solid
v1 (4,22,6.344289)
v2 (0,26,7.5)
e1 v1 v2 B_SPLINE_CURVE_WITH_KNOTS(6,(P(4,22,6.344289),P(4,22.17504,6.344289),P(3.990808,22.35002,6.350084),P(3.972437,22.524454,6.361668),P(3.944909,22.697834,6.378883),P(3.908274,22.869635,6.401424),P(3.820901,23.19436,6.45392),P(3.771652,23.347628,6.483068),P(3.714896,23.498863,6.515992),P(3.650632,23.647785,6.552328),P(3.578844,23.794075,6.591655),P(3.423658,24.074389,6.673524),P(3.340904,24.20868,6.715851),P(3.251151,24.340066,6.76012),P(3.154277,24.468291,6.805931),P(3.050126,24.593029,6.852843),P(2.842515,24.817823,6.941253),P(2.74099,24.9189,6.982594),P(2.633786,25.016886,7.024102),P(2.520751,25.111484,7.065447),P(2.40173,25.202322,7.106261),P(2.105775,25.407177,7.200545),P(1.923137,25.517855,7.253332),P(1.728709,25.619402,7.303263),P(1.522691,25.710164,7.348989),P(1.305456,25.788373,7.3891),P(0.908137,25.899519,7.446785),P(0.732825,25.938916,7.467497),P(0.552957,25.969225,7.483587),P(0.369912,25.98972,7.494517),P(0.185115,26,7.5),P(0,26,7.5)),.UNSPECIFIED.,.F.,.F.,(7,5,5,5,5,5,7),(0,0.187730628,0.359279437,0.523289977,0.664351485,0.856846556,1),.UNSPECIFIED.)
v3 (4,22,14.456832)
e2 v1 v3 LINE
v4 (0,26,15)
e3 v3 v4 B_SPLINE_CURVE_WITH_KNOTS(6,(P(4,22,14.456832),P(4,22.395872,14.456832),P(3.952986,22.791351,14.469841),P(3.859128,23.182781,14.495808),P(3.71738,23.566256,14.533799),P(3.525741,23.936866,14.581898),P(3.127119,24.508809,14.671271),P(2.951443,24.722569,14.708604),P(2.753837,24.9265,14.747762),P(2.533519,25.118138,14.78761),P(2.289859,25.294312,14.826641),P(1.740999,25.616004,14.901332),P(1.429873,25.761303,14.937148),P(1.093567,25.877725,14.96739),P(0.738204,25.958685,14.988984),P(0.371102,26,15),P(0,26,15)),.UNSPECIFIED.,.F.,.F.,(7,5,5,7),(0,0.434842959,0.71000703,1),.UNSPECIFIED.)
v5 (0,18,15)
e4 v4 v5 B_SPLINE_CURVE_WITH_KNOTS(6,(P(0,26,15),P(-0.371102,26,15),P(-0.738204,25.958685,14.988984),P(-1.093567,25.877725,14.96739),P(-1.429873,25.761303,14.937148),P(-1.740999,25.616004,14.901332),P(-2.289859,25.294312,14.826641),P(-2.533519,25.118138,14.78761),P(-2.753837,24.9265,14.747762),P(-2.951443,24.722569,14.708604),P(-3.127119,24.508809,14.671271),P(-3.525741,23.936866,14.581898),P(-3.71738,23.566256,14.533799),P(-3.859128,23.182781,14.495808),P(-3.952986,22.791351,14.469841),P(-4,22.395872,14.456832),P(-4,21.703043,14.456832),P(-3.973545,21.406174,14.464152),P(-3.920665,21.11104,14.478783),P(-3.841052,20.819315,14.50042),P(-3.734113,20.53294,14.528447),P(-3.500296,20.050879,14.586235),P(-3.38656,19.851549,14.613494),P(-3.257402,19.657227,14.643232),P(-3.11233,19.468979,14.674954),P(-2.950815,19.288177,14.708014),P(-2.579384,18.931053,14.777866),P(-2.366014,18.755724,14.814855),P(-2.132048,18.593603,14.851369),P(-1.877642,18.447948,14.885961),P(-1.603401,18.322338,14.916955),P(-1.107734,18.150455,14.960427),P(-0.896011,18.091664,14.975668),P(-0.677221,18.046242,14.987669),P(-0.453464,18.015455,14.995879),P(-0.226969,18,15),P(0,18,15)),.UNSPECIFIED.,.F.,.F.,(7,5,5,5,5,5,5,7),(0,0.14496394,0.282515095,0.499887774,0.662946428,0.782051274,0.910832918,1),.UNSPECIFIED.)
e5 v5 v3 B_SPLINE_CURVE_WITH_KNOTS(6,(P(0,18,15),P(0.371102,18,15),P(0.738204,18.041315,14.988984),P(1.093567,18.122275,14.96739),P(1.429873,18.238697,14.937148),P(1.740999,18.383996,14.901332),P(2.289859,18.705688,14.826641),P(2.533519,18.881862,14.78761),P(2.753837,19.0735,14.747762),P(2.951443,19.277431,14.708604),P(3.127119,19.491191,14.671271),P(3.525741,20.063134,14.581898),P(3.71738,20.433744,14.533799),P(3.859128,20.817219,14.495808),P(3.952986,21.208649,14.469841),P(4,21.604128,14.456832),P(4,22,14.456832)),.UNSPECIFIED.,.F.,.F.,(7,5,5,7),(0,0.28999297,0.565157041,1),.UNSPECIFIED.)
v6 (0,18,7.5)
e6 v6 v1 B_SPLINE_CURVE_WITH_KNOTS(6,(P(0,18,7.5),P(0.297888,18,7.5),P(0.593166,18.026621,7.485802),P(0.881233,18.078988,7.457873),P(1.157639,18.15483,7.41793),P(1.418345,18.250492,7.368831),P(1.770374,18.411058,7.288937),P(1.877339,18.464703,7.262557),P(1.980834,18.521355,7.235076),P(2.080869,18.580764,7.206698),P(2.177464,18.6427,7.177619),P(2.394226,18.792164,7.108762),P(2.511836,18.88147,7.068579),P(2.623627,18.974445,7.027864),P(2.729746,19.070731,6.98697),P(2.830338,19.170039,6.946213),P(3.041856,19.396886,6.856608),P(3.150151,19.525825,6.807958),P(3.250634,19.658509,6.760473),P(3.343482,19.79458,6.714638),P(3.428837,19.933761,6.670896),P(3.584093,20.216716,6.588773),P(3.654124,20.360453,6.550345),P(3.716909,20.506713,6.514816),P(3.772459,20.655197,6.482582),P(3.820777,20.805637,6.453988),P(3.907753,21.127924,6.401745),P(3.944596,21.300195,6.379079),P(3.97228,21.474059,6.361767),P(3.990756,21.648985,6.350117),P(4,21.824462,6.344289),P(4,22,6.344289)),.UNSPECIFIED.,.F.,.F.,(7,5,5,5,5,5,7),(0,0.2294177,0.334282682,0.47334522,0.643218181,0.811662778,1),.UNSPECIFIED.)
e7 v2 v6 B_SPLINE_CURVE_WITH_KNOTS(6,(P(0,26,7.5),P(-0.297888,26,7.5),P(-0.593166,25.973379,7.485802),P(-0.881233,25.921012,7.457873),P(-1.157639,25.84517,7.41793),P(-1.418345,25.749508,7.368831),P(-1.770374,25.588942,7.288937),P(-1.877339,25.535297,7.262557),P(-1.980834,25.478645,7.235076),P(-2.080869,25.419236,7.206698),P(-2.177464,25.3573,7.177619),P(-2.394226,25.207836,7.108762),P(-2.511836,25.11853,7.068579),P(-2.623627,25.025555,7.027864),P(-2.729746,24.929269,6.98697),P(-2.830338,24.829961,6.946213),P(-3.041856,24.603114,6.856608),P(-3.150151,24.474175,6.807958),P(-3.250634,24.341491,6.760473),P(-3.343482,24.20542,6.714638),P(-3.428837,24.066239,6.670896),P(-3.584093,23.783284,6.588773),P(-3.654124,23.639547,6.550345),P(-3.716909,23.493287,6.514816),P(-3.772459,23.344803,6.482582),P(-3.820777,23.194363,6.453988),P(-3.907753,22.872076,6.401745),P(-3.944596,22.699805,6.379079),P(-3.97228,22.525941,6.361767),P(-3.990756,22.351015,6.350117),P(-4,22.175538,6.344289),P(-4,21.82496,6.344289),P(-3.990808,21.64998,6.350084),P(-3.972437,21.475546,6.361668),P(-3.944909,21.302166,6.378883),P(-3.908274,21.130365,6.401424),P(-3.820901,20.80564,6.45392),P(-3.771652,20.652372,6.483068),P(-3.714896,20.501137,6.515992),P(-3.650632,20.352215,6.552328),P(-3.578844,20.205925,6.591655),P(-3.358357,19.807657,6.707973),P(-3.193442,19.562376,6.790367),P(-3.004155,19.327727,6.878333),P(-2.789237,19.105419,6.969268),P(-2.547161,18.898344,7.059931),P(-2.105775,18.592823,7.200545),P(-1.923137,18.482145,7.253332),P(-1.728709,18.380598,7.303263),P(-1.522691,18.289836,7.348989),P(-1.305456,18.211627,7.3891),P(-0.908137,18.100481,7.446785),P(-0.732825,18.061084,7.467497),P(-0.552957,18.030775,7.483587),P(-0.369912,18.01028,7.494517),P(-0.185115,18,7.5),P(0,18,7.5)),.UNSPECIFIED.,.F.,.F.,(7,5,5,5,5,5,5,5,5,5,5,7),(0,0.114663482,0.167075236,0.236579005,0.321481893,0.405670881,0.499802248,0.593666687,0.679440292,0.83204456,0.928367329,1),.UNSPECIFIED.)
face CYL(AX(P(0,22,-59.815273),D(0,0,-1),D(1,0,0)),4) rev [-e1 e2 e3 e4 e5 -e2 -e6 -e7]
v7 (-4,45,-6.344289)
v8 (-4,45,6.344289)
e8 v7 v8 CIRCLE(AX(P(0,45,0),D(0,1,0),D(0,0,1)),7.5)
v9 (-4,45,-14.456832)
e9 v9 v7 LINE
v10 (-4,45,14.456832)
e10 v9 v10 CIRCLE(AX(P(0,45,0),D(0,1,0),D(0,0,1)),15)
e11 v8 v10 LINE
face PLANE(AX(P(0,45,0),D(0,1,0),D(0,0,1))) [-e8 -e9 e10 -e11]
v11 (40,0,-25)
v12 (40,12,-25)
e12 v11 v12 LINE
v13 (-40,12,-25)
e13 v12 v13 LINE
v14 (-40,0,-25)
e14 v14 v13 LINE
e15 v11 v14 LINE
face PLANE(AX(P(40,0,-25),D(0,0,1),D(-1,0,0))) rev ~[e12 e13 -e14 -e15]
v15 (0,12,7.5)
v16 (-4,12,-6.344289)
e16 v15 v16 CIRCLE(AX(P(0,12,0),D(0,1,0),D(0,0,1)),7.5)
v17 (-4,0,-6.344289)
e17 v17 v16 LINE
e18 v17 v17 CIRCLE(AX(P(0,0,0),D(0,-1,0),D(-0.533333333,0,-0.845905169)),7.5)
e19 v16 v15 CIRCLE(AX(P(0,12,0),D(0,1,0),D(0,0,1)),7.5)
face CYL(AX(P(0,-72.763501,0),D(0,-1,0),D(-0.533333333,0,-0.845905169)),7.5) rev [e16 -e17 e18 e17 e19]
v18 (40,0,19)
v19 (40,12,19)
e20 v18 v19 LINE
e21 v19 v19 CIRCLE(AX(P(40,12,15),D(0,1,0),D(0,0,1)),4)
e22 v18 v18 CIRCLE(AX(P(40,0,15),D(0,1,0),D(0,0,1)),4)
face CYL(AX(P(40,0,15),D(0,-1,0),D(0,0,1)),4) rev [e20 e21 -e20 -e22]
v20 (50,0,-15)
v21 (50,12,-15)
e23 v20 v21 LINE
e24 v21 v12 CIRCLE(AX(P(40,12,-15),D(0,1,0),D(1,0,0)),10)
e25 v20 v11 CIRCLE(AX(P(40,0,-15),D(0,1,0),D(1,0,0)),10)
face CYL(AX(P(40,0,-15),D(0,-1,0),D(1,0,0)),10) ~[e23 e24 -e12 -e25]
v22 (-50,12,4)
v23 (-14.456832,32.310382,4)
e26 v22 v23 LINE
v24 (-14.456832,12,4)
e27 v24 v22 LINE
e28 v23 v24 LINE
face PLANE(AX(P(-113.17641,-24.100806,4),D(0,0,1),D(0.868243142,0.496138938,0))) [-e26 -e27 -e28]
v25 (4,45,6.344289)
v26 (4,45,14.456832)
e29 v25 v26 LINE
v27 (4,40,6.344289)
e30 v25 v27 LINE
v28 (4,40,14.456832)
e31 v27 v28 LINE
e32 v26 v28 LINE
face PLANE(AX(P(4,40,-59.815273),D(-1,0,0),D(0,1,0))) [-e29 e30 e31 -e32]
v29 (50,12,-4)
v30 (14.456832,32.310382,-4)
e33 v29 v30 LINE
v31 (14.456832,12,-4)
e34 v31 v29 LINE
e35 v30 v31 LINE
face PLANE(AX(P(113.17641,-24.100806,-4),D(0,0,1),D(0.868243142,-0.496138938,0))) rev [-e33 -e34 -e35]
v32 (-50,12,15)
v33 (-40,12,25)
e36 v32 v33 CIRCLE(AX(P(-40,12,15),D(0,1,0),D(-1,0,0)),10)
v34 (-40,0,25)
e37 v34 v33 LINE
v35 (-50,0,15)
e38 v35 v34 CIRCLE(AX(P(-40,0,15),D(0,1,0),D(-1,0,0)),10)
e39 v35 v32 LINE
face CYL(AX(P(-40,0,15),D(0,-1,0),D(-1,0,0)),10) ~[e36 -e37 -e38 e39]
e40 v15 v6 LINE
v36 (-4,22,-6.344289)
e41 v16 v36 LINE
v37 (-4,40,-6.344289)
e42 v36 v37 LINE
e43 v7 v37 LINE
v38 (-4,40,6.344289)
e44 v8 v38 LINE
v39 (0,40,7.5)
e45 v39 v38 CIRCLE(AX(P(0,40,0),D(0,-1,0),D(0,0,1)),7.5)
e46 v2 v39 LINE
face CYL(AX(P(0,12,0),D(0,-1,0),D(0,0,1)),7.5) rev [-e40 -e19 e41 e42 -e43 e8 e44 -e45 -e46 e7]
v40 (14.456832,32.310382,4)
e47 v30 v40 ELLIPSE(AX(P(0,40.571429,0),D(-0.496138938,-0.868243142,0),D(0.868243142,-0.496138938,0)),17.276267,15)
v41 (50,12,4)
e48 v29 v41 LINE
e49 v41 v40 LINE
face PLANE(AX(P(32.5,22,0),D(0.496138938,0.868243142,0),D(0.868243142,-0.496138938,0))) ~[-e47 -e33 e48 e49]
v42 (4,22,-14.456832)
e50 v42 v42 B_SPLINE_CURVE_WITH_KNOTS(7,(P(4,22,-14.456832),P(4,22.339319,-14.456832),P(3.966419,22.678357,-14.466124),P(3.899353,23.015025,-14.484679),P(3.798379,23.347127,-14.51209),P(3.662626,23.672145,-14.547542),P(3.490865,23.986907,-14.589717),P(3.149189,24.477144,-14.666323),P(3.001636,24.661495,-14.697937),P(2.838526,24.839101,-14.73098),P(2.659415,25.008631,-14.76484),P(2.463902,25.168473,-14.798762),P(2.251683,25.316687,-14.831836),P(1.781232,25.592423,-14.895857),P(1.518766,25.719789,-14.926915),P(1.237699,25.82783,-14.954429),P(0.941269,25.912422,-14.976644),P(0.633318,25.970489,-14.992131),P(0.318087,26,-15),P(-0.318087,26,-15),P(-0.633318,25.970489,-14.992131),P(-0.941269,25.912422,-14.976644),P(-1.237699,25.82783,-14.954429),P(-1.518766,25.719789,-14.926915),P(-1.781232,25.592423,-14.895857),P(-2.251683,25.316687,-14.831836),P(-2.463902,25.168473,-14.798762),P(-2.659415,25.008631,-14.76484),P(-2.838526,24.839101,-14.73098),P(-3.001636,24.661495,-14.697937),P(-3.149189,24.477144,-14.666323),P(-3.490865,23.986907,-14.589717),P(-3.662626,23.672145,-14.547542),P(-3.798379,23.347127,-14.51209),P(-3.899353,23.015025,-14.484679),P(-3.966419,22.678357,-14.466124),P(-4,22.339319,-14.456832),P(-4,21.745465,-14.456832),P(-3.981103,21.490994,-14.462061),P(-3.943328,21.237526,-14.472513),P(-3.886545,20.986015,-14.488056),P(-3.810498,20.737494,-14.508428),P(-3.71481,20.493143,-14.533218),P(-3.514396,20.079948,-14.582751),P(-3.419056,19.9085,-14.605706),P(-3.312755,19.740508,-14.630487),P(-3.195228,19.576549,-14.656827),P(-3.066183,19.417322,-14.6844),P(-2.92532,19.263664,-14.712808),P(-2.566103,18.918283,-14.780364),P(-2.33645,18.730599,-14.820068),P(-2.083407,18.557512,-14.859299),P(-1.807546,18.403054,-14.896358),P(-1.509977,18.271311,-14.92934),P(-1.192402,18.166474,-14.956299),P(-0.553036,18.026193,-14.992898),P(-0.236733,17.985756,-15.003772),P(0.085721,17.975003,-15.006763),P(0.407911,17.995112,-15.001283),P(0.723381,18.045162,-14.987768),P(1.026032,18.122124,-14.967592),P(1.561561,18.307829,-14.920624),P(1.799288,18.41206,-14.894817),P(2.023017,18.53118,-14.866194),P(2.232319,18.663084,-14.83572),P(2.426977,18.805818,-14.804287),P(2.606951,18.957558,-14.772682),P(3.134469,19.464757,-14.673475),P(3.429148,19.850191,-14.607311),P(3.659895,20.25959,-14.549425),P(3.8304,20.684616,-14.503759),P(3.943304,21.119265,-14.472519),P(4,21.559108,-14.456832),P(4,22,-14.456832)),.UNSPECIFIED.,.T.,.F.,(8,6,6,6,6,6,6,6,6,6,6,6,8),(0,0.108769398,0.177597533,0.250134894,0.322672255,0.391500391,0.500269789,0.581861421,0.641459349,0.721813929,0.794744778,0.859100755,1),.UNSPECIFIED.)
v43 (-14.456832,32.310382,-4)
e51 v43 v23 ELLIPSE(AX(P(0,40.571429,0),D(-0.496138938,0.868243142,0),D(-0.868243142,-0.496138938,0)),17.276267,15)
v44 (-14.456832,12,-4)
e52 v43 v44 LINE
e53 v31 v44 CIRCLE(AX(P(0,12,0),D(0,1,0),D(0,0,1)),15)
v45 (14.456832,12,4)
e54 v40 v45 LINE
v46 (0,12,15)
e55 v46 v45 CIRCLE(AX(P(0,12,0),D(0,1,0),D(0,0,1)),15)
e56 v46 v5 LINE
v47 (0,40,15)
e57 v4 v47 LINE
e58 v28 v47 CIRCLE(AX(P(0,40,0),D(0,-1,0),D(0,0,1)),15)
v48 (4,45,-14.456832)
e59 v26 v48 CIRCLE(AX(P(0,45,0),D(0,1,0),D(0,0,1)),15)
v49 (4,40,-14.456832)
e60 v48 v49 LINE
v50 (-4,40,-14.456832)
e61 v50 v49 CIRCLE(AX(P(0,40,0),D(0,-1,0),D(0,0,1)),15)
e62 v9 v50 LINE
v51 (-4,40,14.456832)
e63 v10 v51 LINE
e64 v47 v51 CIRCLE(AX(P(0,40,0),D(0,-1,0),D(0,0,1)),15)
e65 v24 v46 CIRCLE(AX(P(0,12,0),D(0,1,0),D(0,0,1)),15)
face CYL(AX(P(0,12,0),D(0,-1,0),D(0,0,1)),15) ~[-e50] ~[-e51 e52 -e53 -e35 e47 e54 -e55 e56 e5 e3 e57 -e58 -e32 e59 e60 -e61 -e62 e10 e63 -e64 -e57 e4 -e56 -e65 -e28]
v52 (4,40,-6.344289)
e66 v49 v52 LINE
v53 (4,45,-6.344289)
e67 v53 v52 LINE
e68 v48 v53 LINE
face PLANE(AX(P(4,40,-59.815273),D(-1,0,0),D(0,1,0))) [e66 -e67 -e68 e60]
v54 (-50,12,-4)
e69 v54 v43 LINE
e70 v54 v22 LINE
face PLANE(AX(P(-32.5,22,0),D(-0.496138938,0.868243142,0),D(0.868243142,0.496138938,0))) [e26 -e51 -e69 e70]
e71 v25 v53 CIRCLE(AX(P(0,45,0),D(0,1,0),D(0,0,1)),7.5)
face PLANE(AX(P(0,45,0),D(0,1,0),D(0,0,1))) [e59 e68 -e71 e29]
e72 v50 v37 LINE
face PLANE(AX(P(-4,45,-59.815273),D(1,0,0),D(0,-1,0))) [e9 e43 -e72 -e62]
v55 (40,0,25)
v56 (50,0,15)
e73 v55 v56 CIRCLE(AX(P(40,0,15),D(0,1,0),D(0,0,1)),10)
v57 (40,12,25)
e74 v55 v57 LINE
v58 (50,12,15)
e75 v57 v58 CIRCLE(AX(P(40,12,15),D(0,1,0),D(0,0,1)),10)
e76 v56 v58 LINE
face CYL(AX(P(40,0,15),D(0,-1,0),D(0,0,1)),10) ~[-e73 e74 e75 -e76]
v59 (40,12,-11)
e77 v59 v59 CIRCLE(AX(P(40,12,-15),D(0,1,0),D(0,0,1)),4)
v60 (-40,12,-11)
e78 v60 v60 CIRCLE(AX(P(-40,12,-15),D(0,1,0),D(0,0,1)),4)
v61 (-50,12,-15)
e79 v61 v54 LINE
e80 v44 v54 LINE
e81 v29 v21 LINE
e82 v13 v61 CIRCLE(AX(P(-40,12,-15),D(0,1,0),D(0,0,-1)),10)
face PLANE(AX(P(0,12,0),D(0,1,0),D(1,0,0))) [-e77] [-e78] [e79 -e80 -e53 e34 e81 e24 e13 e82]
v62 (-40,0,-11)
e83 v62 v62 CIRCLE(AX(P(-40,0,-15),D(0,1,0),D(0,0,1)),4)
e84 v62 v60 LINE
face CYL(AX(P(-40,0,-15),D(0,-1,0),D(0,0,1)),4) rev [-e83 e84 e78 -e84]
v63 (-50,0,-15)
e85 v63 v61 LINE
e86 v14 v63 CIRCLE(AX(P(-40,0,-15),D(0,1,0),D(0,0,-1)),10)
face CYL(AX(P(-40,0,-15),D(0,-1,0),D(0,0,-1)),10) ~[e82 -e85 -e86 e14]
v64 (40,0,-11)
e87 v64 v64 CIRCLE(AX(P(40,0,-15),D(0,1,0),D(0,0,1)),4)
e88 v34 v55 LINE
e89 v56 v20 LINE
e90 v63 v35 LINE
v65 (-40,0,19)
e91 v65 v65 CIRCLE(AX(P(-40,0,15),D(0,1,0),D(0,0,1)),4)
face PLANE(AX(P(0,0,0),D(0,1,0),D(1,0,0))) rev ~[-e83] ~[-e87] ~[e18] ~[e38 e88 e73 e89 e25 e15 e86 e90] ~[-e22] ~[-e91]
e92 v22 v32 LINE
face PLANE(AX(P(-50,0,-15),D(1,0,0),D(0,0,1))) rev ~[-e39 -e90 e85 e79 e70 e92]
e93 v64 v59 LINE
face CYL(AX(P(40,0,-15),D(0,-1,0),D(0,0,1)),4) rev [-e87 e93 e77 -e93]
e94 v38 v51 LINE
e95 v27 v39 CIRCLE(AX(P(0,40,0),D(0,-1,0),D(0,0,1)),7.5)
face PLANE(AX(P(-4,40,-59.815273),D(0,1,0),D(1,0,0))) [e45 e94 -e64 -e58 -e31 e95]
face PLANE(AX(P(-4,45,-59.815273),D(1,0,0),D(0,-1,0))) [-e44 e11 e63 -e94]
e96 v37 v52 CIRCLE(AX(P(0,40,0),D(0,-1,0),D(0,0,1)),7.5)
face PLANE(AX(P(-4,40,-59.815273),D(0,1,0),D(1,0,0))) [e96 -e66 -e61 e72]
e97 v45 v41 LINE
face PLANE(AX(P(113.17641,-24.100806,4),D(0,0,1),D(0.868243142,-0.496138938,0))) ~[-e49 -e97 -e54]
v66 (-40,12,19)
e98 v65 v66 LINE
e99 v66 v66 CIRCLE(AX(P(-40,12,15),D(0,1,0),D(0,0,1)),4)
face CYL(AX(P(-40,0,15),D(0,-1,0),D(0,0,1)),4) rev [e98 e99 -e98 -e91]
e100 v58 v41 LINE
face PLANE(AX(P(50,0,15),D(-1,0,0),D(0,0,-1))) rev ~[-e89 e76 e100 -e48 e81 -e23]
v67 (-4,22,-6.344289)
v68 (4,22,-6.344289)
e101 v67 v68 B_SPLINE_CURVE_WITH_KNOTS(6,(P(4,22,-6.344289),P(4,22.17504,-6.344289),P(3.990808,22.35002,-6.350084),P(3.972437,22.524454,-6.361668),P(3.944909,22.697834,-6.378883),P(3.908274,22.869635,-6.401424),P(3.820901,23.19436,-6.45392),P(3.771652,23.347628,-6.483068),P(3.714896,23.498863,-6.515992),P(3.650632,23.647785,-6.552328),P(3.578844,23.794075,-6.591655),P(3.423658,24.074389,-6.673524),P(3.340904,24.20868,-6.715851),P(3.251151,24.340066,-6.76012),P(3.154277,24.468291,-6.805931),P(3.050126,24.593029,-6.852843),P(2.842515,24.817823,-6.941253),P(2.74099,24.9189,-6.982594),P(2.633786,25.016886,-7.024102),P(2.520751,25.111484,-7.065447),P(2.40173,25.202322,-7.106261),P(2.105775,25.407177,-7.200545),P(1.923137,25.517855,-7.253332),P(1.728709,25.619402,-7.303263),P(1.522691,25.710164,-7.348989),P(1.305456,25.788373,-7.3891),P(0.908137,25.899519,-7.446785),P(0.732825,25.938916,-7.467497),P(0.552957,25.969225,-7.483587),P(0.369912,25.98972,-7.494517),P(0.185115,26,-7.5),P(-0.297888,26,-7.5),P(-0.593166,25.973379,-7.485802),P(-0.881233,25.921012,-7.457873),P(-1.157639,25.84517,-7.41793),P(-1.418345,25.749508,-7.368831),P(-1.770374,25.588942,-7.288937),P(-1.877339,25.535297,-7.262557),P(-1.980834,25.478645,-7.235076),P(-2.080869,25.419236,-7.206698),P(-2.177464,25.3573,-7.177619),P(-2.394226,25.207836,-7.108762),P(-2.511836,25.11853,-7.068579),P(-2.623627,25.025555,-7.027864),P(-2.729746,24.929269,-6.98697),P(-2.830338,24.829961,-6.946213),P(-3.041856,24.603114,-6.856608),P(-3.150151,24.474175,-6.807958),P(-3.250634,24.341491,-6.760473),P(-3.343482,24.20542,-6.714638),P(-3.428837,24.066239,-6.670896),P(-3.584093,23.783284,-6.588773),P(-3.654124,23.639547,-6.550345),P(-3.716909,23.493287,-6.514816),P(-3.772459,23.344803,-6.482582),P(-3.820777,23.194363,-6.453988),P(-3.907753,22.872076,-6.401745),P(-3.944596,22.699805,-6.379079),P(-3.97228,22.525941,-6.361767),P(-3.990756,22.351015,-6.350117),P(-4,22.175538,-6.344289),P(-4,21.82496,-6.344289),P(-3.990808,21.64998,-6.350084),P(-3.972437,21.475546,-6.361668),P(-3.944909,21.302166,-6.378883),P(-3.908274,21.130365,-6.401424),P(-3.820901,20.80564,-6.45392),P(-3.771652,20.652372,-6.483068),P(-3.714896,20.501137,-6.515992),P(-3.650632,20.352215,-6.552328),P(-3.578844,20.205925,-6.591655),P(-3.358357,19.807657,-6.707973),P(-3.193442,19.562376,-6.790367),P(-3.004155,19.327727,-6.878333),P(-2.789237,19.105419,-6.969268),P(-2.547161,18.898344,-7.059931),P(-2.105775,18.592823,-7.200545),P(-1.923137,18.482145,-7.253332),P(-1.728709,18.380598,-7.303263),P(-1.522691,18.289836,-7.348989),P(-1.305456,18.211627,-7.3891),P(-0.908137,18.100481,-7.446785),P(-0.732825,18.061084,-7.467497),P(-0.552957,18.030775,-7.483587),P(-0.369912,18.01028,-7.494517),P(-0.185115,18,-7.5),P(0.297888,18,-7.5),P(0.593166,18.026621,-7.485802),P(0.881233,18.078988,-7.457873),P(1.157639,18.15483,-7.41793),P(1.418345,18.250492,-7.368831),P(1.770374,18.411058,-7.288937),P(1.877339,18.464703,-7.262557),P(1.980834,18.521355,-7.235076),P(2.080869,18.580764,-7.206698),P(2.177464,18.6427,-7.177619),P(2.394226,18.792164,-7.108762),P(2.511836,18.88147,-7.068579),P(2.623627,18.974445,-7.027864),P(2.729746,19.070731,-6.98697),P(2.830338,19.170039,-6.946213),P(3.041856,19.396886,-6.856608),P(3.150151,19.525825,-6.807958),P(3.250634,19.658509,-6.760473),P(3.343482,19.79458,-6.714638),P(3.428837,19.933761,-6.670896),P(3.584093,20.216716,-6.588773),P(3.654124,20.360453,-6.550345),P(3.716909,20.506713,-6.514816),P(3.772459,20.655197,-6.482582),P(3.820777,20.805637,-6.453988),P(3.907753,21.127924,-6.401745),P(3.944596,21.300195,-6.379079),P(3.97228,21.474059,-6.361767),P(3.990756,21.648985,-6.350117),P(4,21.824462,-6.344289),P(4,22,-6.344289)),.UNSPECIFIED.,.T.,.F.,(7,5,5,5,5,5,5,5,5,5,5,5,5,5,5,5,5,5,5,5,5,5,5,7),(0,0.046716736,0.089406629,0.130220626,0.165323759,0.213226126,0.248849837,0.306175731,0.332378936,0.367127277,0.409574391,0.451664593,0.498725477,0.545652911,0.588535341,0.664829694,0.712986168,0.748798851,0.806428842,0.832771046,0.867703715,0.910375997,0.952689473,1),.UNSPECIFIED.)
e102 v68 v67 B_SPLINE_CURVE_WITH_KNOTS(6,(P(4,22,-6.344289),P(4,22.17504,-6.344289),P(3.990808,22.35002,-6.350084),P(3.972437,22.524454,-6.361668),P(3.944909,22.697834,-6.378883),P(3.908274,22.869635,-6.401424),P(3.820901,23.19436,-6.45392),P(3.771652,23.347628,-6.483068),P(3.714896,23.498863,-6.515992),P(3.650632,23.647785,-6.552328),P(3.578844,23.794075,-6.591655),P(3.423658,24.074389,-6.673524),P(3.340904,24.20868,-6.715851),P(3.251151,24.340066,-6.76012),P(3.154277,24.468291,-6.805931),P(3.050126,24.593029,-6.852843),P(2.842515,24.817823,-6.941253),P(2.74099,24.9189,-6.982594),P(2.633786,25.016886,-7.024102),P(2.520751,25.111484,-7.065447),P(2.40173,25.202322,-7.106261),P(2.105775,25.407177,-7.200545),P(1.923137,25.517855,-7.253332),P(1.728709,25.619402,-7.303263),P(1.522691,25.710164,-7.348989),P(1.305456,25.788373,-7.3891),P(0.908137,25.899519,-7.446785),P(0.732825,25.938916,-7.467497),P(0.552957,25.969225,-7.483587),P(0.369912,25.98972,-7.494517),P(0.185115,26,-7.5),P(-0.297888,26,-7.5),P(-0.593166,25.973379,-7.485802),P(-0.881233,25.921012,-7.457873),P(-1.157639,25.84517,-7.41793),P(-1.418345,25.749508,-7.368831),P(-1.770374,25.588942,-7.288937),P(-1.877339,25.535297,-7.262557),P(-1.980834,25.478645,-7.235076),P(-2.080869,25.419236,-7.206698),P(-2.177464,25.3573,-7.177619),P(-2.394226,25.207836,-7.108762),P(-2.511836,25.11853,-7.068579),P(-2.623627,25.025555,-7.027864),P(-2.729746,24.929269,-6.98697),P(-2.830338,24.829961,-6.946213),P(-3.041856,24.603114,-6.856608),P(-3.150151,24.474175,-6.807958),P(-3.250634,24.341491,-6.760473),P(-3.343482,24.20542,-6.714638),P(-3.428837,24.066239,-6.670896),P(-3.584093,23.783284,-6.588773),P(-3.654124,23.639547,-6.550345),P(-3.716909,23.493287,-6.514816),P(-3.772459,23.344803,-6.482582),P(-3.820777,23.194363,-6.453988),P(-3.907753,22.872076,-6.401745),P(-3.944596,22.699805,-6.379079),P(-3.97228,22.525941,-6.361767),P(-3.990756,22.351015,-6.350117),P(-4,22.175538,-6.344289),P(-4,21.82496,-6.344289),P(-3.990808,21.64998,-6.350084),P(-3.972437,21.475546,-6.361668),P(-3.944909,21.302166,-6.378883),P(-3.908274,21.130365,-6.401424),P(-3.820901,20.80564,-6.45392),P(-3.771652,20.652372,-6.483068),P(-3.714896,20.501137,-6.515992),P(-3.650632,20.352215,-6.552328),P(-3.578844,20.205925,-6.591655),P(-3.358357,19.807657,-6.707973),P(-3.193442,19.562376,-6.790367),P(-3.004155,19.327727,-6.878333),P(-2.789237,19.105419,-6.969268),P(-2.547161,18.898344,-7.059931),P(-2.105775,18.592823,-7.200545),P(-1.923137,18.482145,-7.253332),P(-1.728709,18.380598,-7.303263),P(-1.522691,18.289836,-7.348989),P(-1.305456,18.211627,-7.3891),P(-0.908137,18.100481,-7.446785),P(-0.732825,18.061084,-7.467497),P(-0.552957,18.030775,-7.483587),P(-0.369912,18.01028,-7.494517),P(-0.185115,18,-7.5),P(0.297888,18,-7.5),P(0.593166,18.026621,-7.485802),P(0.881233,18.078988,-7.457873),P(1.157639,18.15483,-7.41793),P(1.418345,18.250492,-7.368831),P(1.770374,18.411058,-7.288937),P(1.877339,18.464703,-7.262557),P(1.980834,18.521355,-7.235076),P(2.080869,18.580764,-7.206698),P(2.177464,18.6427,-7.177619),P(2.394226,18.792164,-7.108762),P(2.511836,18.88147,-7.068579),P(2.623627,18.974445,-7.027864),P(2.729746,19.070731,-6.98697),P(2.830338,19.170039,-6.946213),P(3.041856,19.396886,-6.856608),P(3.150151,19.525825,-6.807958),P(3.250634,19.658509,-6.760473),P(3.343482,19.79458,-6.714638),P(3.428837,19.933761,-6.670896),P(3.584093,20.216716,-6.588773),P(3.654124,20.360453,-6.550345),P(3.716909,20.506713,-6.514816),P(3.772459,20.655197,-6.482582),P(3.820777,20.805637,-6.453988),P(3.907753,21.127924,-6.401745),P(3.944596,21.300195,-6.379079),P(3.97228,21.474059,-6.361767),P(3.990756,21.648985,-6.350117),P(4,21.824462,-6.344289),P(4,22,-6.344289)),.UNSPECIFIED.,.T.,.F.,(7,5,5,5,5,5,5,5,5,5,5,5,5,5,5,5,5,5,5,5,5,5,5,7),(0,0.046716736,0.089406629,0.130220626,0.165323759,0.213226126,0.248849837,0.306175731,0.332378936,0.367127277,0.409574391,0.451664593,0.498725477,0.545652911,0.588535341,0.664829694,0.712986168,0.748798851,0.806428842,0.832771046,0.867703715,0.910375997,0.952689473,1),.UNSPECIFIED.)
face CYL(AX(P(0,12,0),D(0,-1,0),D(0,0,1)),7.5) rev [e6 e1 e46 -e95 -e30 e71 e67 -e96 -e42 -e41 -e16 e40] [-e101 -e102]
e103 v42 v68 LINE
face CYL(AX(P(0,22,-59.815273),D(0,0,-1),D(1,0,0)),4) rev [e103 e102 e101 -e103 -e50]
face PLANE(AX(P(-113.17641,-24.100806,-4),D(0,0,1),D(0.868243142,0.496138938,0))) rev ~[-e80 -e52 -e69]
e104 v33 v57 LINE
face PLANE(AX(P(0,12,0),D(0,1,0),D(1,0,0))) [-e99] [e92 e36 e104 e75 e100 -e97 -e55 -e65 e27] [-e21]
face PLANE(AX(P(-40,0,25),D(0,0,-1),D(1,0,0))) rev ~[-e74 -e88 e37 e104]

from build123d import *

# Parameters (mm, degrees)
SKETCH_1_R                = 4
EXTRUDE_2_DEPTH           = 12
SKETCH_4_R                = 15
SKETCH_4_R_2              = 7.5
EXTRUDE_3_DEPTH           = 33
CUT_EXTRUDE_12_DEPTH      = 84.815273071
CUT_EXTRUDE_12_DEPTH_BACK = 84.815273071
SKETCH_5_R                = 4
RIB_9_REACH               = 73.764
SKETCH_10_WALL_W          = 185.83828981
SKETCH_10_WALL_H          = 8
CUT_EXTRUDE_14_DEPTH      = 84.815273125
CUT_EXTRUDE_14_DEPTH_BACK = 84.815273125
CUT_EXTRUDE_15_DEPTH      = 72.763500535
CUT_EXTRUDE_15_DEPTH_BACK = 72.763500535
SKETCH_14_R               = 7.5


with BuildPart() as part:
    # 草图1 → 凸台-拉伸2 (new body)
    with BuildSketch(Plane(origin=(0, 0, 0), x_dir=(1, 0, 0), z_dir=(0, 1, 0))):
        with BuildLine():
            Line((-40, -25), (40, -25))
            ThreePointArc((40, -25), (47.071067812, -22.071067812), (50, -15))
            Line((50, -15), (50, 15))
            ThreePointArc((50, 15), (47.071067812, 22.071067812), (40, 25))
            Line((40, 25), (-40, 25))
            ThreePointArc((-40, 25), (-47.071067812, 22.071067812), (-50, 15))
            Line((-50, 15), (-50, -15))
            ThreePointArc((-50, -15), (-47.071067812, -22.071067812), (-40, -25))
        make_face()
        with Locations(Location((-40, 15, 0), (0, 0, 270))):
            Circle(SKETCH_1_R, mode=Mode.SUBTRACT)
        with Locations(Location((-40, -15, 0), (0, 0, 270))):
            Circle(SKETCH_1_R, mode=Mode.SUBTRACT)
        with Locations(Location((40, 15, 0), (0, 0, 270))):
            Circle(SKETCH_1_R, mode=Mode.SUBTRACT)
        with Locations(Location((40, -15, 0), (0, 0, 270))):
            Circle(SKETCH_1_R, mode=Mode.SUBTRACT)
    extrude(amount=EXTRUDE_2_DEPTH)

    # 草图4 → 凸台-拉伸3 (add)
    with BuildSketch(Plane(origin=(0, 12, 0), x_dir=(1, 0, 0), z_dir=(0, 1, 0))):
        with Locations(Location((0, 0, 0), (0, 0, 270))):
            Circle(SKETCH_4_R)
        with Locations(Location((0, 0, 0), (0, 0, 270))):
            Circle(SKETCH_4_R_2, mode=Mode.SUBTRACT)
    extrude(amount=EXTRUDE_3_DEPTH)

    # 草图5 → 切除-拉伸12 (cut, two sides: drawn at the far end of the back side and taken through both)
    with BuildSketch(Plane.XY.offset(25).offset(-CUT_EXTRUDE_12_DEPTH_BACK)):
        with Locations((0, 22)):
            Circle(SKETCH_5_R)
    extrude(amount=CUT_EXTRUDE_12_DEPTH + CUT_EXTRUDE_12_DEPTH_BACK, mode=Mode.SUBTRACT)

    # 草图10 wall → 筋9 (add, up to next)
    with BuildSketch(Plane(origin=(-32.5, 22, 0), x_dir=(0.868243142124, 0.496138938357, 0), z_dir=(-0.496138938357, 0.868243142124, 0)), mode=Mode.PRIVATE) as rib_9_sk1:
        Rectangle(SKETCH_10_WALL_W, SKETCH_10_WALL_H)
    rib_9_tool1 = extrude(rib_9_sk1.sketch, amount=-RIB_9_REACH, mode=Mode.PRIVATE) - part.part
    rib_9 = rib_9_tool1.solids().sort_by_distance((-32.5, 22, 0))[0]
    add(rib_9)

    # 草图13 → 切除-拉伸14 (cut, two sides: drawn at the far end of the back side and taken through both)
    with BuildSketch(Plane.XY.offset(25).offset(-CUT_EXTRUDE_14_DEPTH_BACK)):
        Polygon((0, 40), (4, 40), (4, 45), (0, 45), (-4, 45), (-4, 40), align=None)
    extrude(amount=CUT_EXTRUDE_14_DEPTH + CUT_EXTRUDE_14_DEPTH_BACK, mode=Mode.SUBTRACT)

    # 草图14 → 切除-拉伸15 (cut, two sides: drawn at the far end of the back side and taken through both)
    with BuildSketch(Plane(origin=(0, 0, 0), x_dir=(1, 0, 0), z_dir=(0, 1, 0)).offset(-CUT_EXTRUDE_15_DEPTH_BACK)):
        with Locations(Location((0, 0, 0), (0, 0, 122.230952636))):
            Circle(SKETCH_14_R)
    extrude(amount=CUT_EXTRUDE_15_DEPTH + CUT_EXTRUDE_15_DEPTH_BACK, mode=Mode.SUBTRACT)

    # 镜向1: 筋9 across plane
    add(rib_9.mirror(Plane(origin=(0, 0, 0), x_dir=(0, 0, 1), z_dir=(1, 0, 0))))


solid = part.part
